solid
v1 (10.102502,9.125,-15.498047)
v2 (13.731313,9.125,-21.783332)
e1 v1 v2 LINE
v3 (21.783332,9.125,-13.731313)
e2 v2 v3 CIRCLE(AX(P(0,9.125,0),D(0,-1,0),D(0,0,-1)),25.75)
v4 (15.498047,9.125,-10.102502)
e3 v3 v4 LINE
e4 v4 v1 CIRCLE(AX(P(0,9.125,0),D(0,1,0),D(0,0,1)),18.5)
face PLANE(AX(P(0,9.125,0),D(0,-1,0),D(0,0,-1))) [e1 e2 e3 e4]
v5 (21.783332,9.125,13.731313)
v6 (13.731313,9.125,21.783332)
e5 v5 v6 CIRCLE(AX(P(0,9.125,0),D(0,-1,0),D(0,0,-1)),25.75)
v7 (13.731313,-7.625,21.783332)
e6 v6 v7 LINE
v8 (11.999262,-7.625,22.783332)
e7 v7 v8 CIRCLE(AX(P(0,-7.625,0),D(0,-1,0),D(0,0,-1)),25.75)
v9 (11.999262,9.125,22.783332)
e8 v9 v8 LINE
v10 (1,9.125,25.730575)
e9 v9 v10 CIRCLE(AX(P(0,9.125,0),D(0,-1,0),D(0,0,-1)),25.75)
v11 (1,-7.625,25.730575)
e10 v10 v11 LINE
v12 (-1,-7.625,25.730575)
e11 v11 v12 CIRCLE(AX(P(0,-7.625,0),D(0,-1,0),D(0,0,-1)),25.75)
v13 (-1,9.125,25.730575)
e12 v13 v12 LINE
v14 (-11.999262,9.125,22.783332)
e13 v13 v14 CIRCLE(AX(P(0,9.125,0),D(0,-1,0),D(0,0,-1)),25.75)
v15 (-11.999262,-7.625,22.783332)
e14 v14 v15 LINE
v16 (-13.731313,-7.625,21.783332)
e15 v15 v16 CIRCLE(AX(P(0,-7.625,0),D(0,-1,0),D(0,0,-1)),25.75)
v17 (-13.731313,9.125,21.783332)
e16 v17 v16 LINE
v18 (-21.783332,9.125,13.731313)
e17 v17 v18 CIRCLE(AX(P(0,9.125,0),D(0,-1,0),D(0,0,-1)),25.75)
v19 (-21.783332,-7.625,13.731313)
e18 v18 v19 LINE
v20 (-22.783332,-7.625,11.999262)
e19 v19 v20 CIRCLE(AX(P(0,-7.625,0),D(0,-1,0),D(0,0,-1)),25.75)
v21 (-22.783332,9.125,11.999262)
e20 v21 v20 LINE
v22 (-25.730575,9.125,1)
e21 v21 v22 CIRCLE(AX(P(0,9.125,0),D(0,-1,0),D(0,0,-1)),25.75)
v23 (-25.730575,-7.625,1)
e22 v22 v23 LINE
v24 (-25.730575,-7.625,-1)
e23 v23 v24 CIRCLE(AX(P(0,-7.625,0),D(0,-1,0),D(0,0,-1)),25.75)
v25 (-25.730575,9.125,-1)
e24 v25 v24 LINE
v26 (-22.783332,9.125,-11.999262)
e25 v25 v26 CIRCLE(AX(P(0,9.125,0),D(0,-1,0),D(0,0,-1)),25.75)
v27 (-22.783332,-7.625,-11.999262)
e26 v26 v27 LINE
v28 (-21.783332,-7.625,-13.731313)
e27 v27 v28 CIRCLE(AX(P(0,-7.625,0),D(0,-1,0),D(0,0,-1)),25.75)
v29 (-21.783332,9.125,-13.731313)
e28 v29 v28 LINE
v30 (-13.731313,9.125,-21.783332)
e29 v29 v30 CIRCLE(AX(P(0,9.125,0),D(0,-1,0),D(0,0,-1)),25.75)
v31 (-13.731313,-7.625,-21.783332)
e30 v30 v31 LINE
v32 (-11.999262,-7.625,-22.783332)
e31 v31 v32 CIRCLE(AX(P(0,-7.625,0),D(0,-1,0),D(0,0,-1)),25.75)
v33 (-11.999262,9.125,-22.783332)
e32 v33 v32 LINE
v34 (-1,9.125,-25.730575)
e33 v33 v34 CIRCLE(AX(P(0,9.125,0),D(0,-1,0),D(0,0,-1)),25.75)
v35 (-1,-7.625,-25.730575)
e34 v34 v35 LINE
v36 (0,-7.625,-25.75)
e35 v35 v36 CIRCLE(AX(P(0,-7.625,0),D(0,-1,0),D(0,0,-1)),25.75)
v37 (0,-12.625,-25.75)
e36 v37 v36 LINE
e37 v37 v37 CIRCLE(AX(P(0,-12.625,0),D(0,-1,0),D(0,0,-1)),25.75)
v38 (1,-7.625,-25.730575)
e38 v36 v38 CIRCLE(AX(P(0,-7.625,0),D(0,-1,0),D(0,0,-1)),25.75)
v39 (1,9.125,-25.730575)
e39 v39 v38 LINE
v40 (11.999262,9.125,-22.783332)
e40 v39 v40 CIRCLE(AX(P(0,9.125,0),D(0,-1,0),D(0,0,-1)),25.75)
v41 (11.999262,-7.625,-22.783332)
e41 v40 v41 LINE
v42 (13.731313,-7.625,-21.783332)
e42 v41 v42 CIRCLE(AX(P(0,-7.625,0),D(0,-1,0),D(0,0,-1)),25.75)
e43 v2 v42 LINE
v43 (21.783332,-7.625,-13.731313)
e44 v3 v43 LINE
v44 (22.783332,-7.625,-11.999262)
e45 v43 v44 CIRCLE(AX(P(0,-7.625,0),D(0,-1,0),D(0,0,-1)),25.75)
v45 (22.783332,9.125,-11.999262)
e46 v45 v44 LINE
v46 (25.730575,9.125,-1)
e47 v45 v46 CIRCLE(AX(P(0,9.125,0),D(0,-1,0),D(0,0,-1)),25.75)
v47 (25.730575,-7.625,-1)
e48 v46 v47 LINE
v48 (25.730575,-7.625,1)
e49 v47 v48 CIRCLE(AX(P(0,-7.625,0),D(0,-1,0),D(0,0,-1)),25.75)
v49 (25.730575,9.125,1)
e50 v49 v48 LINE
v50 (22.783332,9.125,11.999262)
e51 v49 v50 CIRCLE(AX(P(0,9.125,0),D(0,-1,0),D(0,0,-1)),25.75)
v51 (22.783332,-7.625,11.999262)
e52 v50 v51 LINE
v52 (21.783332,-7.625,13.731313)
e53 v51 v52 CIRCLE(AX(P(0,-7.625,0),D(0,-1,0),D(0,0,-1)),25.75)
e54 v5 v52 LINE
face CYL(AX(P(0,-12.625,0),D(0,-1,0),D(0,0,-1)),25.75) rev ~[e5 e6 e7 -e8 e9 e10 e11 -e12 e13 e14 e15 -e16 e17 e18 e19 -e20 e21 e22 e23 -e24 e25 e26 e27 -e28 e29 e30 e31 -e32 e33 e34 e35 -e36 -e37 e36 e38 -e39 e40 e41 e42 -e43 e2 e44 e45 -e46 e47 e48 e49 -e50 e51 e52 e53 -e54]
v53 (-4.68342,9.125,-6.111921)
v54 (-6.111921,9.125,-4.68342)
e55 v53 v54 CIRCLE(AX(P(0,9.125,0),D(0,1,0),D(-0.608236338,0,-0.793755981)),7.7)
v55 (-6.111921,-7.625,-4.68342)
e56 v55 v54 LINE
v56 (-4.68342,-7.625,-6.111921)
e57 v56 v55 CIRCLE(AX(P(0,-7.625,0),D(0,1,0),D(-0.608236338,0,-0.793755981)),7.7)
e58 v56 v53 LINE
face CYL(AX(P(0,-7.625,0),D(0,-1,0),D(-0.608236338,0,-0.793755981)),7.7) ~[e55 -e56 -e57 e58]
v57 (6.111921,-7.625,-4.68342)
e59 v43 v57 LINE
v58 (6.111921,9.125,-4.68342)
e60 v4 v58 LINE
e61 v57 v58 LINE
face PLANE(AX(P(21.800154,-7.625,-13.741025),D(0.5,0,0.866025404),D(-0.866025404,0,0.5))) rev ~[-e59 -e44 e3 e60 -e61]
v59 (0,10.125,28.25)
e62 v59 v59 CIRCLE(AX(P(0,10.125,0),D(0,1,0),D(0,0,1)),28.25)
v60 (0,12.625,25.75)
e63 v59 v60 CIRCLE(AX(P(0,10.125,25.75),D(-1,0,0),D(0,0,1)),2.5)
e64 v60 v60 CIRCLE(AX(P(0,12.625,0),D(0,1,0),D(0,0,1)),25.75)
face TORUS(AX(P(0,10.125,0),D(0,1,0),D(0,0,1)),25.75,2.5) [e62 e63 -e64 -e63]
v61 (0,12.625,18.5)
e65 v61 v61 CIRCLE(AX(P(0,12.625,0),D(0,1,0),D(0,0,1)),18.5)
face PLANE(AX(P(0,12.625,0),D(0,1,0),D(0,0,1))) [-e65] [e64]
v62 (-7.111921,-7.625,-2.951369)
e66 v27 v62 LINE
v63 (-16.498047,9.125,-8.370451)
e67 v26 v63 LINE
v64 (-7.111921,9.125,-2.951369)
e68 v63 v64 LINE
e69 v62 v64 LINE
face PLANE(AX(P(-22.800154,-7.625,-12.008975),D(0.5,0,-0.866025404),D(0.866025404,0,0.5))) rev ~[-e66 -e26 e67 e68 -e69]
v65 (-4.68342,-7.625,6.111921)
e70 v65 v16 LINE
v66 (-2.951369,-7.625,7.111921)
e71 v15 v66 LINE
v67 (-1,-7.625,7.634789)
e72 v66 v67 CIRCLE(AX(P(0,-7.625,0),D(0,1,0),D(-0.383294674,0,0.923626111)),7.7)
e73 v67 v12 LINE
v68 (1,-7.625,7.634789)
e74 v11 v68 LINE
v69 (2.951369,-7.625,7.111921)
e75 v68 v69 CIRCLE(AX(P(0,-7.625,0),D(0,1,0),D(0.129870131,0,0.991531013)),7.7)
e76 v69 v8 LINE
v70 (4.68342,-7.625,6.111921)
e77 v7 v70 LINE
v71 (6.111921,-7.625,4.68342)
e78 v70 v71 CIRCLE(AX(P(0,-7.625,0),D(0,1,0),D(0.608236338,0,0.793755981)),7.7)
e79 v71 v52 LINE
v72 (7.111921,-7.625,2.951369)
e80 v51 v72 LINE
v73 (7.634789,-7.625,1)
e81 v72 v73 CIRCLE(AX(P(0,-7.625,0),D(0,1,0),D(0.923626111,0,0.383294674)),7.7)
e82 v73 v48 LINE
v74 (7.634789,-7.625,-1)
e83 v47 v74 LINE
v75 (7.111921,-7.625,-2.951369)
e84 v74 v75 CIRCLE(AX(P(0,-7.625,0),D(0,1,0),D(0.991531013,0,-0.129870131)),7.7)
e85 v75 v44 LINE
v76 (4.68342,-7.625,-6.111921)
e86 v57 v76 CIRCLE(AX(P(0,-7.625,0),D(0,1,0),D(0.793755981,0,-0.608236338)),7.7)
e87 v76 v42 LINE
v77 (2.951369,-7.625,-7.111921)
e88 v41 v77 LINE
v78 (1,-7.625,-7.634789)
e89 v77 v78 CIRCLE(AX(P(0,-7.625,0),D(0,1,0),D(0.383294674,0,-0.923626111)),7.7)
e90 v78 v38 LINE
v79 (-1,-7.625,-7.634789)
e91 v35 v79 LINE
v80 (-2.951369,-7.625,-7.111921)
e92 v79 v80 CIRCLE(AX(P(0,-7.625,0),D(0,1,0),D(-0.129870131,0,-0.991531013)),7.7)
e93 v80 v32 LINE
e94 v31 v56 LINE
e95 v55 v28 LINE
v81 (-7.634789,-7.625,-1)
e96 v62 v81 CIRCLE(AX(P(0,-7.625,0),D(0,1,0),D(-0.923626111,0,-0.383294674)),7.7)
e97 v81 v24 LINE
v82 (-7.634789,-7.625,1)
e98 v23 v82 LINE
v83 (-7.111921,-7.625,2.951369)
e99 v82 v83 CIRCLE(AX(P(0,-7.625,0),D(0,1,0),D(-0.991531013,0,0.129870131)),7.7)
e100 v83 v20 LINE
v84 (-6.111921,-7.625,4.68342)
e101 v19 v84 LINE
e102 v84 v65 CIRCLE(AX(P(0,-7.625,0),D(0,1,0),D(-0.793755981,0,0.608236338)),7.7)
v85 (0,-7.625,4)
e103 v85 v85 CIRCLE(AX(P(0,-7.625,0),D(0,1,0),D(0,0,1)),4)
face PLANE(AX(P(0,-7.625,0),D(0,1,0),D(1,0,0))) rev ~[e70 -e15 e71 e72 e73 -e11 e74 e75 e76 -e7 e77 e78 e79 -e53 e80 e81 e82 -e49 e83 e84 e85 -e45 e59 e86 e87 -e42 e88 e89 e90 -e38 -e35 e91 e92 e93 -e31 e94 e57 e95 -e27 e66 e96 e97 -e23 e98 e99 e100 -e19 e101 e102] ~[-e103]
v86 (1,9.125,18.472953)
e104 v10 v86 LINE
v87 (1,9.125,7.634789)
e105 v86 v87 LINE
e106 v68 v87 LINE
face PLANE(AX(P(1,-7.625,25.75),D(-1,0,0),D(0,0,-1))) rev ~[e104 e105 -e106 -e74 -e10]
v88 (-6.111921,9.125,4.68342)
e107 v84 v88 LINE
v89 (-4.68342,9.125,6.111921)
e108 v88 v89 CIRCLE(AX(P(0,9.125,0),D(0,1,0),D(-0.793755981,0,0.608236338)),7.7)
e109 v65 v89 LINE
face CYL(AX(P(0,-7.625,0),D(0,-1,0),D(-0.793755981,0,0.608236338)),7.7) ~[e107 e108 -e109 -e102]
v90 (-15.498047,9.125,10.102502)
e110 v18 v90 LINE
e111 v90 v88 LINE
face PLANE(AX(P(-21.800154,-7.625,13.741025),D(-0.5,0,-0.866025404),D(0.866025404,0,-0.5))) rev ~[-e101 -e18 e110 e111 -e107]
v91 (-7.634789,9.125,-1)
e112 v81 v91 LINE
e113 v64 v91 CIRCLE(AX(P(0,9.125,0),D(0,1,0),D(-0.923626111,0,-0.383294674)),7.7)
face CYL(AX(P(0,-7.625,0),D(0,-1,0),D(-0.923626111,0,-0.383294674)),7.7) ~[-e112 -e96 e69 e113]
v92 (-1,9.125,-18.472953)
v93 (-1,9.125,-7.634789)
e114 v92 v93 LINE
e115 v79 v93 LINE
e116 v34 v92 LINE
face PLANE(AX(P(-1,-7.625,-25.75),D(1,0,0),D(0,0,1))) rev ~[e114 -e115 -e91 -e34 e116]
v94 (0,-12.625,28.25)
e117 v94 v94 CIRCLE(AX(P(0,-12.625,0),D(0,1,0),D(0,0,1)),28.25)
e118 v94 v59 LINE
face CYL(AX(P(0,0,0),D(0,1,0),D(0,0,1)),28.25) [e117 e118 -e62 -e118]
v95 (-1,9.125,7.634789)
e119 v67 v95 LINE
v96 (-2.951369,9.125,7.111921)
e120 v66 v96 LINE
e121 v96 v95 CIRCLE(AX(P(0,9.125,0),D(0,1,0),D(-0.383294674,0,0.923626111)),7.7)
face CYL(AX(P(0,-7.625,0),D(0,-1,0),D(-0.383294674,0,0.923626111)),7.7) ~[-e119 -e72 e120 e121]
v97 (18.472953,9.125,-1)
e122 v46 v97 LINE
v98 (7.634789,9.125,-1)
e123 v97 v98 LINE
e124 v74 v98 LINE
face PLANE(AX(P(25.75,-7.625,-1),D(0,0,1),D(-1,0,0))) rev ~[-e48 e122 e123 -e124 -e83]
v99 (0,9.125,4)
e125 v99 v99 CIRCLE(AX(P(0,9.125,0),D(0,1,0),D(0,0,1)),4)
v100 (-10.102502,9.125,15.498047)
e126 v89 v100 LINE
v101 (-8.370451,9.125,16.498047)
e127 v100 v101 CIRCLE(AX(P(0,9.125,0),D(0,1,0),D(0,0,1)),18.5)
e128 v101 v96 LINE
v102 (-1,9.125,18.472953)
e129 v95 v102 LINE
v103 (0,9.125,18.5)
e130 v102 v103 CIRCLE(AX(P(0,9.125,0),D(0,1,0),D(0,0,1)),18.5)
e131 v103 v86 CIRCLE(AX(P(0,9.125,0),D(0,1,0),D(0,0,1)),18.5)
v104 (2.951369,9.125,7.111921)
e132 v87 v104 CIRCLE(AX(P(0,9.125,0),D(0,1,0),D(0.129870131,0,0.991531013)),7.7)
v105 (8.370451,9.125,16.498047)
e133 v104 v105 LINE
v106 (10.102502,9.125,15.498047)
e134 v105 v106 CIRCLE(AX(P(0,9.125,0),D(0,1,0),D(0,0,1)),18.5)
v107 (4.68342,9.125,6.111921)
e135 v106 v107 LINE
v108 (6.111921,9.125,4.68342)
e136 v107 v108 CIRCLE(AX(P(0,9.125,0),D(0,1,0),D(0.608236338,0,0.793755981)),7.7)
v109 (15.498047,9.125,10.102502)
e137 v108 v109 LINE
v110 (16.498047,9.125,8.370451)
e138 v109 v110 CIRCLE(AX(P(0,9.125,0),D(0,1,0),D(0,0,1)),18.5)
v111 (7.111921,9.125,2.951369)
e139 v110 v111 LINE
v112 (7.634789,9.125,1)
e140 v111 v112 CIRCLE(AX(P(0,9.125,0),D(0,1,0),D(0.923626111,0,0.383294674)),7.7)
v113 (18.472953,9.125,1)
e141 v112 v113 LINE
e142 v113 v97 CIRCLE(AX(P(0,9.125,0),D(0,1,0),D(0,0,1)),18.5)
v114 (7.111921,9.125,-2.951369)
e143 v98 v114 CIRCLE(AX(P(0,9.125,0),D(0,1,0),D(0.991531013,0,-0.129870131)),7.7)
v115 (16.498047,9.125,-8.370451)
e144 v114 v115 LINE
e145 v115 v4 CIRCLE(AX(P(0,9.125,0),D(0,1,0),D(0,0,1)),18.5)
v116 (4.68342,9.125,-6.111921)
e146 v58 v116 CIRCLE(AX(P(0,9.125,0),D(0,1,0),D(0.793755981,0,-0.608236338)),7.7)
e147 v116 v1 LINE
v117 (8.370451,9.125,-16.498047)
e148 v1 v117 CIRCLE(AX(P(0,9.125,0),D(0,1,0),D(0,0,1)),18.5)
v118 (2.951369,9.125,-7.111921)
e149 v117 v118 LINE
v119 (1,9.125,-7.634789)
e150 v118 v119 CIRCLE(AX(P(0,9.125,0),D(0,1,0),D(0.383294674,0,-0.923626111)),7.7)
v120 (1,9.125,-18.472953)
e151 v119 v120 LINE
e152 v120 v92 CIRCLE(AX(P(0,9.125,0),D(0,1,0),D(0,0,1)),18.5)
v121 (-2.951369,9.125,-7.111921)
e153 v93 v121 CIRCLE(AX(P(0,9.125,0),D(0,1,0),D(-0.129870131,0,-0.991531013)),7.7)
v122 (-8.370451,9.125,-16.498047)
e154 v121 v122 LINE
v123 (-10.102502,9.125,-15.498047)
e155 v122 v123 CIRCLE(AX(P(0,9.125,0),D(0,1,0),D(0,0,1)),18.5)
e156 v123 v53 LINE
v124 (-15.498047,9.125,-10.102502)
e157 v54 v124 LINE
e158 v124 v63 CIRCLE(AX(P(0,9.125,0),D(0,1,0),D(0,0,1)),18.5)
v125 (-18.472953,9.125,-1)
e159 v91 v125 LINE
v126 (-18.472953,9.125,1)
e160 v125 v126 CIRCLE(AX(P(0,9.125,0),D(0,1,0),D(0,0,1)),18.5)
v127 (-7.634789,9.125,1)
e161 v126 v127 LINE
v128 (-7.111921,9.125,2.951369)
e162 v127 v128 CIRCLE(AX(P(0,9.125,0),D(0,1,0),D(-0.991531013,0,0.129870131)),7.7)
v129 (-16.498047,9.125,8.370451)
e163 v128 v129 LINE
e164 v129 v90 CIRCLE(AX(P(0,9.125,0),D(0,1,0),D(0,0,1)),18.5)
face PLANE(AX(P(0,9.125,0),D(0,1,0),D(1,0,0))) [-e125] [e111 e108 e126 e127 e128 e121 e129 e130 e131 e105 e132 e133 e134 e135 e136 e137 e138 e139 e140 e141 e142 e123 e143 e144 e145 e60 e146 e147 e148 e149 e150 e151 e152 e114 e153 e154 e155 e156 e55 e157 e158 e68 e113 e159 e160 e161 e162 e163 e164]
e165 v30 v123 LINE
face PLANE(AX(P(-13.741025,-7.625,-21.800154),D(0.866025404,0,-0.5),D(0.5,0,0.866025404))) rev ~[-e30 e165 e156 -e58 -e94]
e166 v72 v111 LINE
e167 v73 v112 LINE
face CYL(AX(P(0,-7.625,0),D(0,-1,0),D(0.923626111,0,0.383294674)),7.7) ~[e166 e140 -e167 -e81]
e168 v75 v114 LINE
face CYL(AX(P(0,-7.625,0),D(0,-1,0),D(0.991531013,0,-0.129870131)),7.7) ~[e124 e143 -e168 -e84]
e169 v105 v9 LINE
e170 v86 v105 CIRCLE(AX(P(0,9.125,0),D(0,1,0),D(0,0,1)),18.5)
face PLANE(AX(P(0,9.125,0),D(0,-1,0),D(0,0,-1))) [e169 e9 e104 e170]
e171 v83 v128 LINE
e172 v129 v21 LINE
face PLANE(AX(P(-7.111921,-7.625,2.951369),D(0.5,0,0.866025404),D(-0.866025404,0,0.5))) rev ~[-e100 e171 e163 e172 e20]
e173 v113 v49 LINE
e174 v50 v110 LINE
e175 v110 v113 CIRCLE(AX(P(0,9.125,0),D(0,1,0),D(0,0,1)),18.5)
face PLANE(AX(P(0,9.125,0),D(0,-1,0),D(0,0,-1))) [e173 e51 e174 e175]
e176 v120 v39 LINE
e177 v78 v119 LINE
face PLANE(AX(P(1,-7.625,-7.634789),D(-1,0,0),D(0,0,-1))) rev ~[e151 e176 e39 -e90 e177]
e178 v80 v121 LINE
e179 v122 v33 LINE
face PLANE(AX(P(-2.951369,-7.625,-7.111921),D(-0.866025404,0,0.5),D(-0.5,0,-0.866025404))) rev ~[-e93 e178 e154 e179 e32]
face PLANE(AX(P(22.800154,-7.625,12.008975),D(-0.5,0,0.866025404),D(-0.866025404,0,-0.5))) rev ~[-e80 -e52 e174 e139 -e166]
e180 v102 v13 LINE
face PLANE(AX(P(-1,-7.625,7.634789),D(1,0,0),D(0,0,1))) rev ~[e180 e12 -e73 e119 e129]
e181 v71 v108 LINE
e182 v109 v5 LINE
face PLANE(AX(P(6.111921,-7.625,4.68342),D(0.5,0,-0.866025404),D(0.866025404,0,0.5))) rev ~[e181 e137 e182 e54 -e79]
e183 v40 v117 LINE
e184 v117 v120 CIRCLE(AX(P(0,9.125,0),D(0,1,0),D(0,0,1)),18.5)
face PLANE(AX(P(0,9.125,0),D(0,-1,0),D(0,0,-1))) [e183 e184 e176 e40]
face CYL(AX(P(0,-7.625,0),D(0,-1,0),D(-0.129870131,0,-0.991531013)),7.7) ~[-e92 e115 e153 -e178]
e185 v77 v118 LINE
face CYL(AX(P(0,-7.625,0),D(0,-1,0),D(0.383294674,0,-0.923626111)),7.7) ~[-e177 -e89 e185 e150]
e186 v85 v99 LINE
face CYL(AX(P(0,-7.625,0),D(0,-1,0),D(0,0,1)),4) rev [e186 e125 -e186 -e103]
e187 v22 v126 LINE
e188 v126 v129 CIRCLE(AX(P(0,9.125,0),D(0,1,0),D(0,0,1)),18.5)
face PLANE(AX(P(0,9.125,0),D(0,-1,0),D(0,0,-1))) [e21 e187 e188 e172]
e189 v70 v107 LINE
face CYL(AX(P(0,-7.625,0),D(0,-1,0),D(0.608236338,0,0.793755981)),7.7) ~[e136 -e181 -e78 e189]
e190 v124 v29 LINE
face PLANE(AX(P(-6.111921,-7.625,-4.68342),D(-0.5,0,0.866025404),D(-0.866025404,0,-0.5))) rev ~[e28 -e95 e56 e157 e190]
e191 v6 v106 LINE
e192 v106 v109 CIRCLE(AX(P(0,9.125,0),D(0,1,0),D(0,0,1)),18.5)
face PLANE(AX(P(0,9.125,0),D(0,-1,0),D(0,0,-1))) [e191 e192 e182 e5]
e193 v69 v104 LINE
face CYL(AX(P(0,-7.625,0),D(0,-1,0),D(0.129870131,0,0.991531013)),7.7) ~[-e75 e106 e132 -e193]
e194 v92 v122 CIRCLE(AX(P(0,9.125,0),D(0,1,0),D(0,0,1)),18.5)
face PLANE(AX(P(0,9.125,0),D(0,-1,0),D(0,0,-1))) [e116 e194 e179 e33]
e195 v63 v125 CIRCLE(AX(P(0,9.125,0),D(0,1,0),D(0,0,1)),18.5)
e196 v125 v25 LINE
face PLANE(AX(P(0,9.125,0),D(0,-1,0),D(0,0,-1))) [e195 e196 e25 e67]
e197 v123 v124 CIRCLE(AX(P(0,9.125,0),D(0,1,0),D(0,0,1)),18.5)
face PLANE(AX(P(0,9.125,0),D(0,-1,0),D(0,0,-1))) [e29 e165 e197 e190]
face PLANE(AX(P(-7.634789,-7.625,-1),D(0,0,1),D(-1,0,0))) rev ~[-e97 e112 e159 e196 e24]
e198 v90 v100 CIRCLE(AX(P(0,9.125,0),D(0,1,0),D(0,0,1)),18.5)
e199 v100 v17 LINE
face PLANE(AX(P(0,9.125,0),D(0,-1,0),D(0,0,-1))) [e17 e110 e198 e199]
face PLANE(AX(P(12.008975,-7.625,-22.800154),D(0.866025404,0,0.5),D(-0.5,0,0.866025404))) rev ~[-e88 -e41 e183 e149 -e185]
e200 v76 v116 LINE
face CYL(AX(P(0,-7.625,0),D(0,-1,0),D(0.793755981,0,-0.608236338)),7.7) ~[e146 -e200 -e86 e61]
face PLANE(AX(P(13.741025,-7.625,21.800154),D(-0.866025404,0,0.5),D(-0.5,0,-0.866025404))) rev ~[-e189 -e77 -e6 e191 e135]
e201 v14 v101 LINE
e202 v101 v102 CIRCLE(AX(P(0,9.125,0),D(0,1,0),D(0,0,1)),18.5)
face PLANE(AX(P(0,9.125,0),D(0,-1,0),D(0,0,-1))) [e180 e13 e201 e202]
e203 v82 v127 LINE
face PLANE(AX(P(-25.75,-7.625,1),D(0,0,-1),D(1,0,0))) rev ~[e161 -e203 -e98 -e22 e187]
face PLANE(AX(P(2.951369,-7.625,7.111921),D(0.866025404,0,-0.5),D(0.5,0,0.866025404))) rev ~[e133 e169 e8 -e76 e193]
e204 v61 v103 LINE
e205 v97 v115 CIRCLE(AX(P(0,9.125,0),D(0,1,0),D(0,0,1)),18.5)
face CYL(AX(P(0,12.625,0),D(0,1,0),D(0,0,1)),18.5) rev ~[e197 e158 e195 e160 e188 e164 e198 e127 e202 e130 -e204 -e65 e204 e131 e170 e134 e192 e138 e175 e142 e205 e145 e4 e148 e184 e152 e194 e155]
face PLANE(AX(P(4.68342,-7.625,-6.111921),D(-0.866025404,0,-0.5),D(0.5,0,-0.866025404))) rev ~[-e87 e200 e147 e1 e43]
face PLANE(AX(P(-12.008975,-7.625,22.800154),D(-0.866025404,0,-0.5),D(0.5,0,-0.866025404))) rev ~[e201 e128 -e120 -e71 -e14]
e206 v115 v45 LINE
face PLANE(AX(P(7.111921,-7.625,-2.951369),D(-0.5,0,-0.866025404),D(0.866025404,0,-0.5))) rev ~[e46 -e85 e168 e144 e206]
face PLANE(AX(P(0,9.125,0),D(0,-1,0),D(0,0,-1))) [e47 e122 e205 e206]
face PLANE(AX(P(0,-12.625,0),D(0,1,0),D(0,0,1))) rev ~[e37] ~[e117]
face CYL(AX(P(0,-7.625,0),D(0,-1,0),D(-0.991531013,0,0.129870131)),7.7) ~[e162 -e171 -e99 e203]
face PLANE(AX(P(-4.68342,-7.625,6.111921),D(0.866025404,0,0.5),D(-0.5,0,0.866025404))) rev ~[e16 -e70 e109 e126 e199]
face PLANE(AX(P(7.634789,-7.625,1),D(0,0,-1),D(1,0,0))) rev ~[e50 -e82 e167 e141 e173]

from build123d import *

# Parameters (mm, degrees)
ESBO_O1_R                     = 28.25
RESSALTO_EXTRUS_O1_DEPTH      = 12.625
ESBO_O2_R                     = 18.5
CORTE_EXTRUS_O1_DEPTH         = 3.5
ESBO_O3_R                     = 25.75
CORTE_EXTRUS_O2_DEPTH         = 21.75
RESSALTO_EXTRUS_O2_DEPTH      = 9.125
RESSALTO_EXTRUS_O2_DEPTH_BACK = 7.625
ESBO_O4_R                     = 4
FILETE1_R                     = 2.5


with BuildPart() as part:
    # Esboço1 → Ressalto-extrusão1 (new, symmetric)
    with BuildSketch(Plane(origin=(0, 0, 0), x_dir=(1, 0, 0), z_dir=(0, 1, 0))):
        with Locations(Location((0, 0, 0), (0, 0, 270))):
            Circle(ESBO_O1_R)
    extrude(amount=RESSALTO_EXTRUS_O1_DEPTH, both=True)

    # Esboço2 → Corte-extrusão1 (cut)
    with BuildSketch(Plane(origin=(0, 12.625, 0), x_dir=(1, 0, 0), z_dir=(0, 1, 0))):
        with Locations(Location((0, 0, 0), (0, 0, 270))):
            Circle(ESBO_O2_R)
    extrude(amount=-CORTE_EXTRUS_O1_DEPTH, mode=Mode.SUBTRACT)

    # Esboço3 → Corte-extrusão2 (cut)
    with BuildSketch(Plane.XZ.offset(12.625)):
        with Locations(Location((0, 0, 0), (0, 0, 270))):
            Circle(ESBO_O3_R)
    extrude(amount=-CORTE_EXTRUS_O2_DEPTH, mode=Mode.SUBTRACT)

    # Esboço4 → Ressalto-extrusão2 (add, two sides: drawn at the far end of the back side and taken through both)
    with BuildSketch(Plane(origin=(0, 0, 0), x_dir=(1, 0, 0), z_dir=(0, 1, 0)).offset(-RESSALTO_EXTRUS_O2_DEPTH_BACK)):
        with BuildLine():
            Line((4.683419803, 6.111921052), (13.741025404, 21.800154147))
            ThreePointArc((13.741025404, 21.800154147), (12.88470508, 22.316963839), (12.008974596, 22.800154147))
            Line((12.008974596, 22.800154147), (2.951368996, 7.111921052))
            ThreePointArc((2.951368996, 7.111921052), (1.992906647, 7.437628862), (1, 7.634788799))
            Line((1, 7.634788799), (1, 25.75))
            ThreePointArc((1, 25.75), (0, 25.76941016), (-1, 25.75))
            Line((-1, 25.75), (-1, 7.634788799))
            ThreePointArc((-1, 7.634788799), (-1.992906647, 7.437628862), (-2.951368996, 7.111921052))
            Line((-2.951368996, 7.111921052), (-12.008974596, 22.800154147))
            ThreePointArc((-12.008974596, 22.800154147), (-12.88470508, 22.316963839), (-13.741025404, 21.800154147))
            Line((-13.741025404, 21.800154147), (-4.683419803, 6.111921052))
            ThreePointArc((-4.683419803, 6.111921052), (-5.444722215, 5.444722215), (-6.111921052, 4.683419803))
            Line((-6.111921052, 4.683419803), (-21.800154147, 13.741025404))
            ThreePointArc((-21.800154147, 13.741025404), (-22.316963839, 12.88470508), (-22.800154147, 12.008974596))
            Line((-22.800154147, 12.008974596), (-7.111921052, 2.951368996))
            ThreePointArc((-7.111921052, 2.951368996), (-7.437628862, 1.992906647), (-7.634788799, 1))
            Line((-7.634788799, 1), (-25.75, 1))
            ThreePointArc((-25.75, 1), (-25.76941016, 0), (-25.75, -1))
            Line((-25.75, -1), (-7.634788799, -1))
            ThreePointArc((-7.634788799, -1), (-7.437628862, -1.992906647), (-7.111921052, -2.951368996))
            Line((-7.111921052, -2.951368996), (-22.800154147, -12.008974596))
            ThreePointArc((-22.800154147, -12.008974596), (-22.316963839, -12.88470508), (-21.800154147, -13.741025404))
            Line((-21.800154147, -13.741025404), (-6.111921052, -4.683419803))
            ThreePointArc((-6.111921052, -4.683419803), (-5.444722215, -5.444722215), (-4.683419803, -6.111921052))
            Line((-4.683419803, -6.111921052), (-13.741025404, -21.800154147))
            ThreePointArc((-13.741025404, -21.800154147), (-12.88470508, -22.316963839), (-12.008974596, -22.800154147))
            Line((-12.008974596, -22.800154147), (-2.951368996, -7.111921052))
            ThreePointArc((-2.951368996, -7.111921052), (-1.992906647, -7.437628862), (-1, -7.634788799))
            Line((-1, -7.634788799), (-1, -25.75))
            ThreePointArc((-1, -25.75), (0, -25.76941016), (1, -25.75))
            Line((1, -25.75), (1, -7.634788799))
            ThreePointArc((1, -7.634788799), (1.992906647, -7.437628862), (2.951368996, -7.111921052))
            Line((2.951368996, -7.111921052), (12.008974596, -22.800154147))
            ThreePointArc((12.008974596, -22.800154147), (12.88470508, -22.316963839), (13.741025404, -21.800154147))
            Line((13.741025404, -21.800154147), (4.683419803, -6.111921052))
            ThreePointArc((4.683419803, -6.111921052), (5.444722215, -5.444722215), (6.111921052, -4.683419803))
            Line((6.111921052, -4.683419803), (21.800154147, -13.741025404))
            ThreePointArc((21.800154147, -13.741025404), (22.316963839, -12.88470508), (22.800154147, -12.008974596))
            Line((22.800154147, -12.008974596), (7.111921052, -2.951368996))
            ThreePointArc((7.111921052, -2.951368996), (7.437628862, -1.992906647), (7.634788799, -1))
            Line((7.634788799, -1), (25.75, -1))
            ThreePointArc((25.75, -1), (25.76941016, 0), (25.75, 1))
            Line((25.75, 1), (7.634788799, 1))
            ThreePointArc((7.634788799, 1), (7.437628862, 1.992906647), (7.111921052, 2.951368996))
            Line((7.111921052, 2.951368996), (22.800154147, 12.008974596))
            ThreePointArc((22.800154147, 12.008974596), (22.316963839, 12.88470508), (21.800154147, 13.741025404))
            Line((21.800154147, 13.741025404), (6.111921052, 4.683419803))
            ThreePointArc((6.111921052, 4.683419803), (5.444722215, 5.444722215), (4.683419803, 6.111921052))
        make_face()
        with Locations(Location((0, 0, 0), (0, 0, 270))):
            Circle(ESBO_O4_R, mode=Mode.SUBTRACT)
    extrude(amount=RESSALTO_EXTRUS_O2_DEPTH + RESSALTO_EXTRUS_O2_DEPTH_BACK)

    # Filete1
    filete1_edges = [part.edges().sort_by_distance(p)[0] for p in [
        (0, 12.625, -28.25),
    ]]
    fillet(filete1_edges, radius=FILETE1_R)


solid = part.part
